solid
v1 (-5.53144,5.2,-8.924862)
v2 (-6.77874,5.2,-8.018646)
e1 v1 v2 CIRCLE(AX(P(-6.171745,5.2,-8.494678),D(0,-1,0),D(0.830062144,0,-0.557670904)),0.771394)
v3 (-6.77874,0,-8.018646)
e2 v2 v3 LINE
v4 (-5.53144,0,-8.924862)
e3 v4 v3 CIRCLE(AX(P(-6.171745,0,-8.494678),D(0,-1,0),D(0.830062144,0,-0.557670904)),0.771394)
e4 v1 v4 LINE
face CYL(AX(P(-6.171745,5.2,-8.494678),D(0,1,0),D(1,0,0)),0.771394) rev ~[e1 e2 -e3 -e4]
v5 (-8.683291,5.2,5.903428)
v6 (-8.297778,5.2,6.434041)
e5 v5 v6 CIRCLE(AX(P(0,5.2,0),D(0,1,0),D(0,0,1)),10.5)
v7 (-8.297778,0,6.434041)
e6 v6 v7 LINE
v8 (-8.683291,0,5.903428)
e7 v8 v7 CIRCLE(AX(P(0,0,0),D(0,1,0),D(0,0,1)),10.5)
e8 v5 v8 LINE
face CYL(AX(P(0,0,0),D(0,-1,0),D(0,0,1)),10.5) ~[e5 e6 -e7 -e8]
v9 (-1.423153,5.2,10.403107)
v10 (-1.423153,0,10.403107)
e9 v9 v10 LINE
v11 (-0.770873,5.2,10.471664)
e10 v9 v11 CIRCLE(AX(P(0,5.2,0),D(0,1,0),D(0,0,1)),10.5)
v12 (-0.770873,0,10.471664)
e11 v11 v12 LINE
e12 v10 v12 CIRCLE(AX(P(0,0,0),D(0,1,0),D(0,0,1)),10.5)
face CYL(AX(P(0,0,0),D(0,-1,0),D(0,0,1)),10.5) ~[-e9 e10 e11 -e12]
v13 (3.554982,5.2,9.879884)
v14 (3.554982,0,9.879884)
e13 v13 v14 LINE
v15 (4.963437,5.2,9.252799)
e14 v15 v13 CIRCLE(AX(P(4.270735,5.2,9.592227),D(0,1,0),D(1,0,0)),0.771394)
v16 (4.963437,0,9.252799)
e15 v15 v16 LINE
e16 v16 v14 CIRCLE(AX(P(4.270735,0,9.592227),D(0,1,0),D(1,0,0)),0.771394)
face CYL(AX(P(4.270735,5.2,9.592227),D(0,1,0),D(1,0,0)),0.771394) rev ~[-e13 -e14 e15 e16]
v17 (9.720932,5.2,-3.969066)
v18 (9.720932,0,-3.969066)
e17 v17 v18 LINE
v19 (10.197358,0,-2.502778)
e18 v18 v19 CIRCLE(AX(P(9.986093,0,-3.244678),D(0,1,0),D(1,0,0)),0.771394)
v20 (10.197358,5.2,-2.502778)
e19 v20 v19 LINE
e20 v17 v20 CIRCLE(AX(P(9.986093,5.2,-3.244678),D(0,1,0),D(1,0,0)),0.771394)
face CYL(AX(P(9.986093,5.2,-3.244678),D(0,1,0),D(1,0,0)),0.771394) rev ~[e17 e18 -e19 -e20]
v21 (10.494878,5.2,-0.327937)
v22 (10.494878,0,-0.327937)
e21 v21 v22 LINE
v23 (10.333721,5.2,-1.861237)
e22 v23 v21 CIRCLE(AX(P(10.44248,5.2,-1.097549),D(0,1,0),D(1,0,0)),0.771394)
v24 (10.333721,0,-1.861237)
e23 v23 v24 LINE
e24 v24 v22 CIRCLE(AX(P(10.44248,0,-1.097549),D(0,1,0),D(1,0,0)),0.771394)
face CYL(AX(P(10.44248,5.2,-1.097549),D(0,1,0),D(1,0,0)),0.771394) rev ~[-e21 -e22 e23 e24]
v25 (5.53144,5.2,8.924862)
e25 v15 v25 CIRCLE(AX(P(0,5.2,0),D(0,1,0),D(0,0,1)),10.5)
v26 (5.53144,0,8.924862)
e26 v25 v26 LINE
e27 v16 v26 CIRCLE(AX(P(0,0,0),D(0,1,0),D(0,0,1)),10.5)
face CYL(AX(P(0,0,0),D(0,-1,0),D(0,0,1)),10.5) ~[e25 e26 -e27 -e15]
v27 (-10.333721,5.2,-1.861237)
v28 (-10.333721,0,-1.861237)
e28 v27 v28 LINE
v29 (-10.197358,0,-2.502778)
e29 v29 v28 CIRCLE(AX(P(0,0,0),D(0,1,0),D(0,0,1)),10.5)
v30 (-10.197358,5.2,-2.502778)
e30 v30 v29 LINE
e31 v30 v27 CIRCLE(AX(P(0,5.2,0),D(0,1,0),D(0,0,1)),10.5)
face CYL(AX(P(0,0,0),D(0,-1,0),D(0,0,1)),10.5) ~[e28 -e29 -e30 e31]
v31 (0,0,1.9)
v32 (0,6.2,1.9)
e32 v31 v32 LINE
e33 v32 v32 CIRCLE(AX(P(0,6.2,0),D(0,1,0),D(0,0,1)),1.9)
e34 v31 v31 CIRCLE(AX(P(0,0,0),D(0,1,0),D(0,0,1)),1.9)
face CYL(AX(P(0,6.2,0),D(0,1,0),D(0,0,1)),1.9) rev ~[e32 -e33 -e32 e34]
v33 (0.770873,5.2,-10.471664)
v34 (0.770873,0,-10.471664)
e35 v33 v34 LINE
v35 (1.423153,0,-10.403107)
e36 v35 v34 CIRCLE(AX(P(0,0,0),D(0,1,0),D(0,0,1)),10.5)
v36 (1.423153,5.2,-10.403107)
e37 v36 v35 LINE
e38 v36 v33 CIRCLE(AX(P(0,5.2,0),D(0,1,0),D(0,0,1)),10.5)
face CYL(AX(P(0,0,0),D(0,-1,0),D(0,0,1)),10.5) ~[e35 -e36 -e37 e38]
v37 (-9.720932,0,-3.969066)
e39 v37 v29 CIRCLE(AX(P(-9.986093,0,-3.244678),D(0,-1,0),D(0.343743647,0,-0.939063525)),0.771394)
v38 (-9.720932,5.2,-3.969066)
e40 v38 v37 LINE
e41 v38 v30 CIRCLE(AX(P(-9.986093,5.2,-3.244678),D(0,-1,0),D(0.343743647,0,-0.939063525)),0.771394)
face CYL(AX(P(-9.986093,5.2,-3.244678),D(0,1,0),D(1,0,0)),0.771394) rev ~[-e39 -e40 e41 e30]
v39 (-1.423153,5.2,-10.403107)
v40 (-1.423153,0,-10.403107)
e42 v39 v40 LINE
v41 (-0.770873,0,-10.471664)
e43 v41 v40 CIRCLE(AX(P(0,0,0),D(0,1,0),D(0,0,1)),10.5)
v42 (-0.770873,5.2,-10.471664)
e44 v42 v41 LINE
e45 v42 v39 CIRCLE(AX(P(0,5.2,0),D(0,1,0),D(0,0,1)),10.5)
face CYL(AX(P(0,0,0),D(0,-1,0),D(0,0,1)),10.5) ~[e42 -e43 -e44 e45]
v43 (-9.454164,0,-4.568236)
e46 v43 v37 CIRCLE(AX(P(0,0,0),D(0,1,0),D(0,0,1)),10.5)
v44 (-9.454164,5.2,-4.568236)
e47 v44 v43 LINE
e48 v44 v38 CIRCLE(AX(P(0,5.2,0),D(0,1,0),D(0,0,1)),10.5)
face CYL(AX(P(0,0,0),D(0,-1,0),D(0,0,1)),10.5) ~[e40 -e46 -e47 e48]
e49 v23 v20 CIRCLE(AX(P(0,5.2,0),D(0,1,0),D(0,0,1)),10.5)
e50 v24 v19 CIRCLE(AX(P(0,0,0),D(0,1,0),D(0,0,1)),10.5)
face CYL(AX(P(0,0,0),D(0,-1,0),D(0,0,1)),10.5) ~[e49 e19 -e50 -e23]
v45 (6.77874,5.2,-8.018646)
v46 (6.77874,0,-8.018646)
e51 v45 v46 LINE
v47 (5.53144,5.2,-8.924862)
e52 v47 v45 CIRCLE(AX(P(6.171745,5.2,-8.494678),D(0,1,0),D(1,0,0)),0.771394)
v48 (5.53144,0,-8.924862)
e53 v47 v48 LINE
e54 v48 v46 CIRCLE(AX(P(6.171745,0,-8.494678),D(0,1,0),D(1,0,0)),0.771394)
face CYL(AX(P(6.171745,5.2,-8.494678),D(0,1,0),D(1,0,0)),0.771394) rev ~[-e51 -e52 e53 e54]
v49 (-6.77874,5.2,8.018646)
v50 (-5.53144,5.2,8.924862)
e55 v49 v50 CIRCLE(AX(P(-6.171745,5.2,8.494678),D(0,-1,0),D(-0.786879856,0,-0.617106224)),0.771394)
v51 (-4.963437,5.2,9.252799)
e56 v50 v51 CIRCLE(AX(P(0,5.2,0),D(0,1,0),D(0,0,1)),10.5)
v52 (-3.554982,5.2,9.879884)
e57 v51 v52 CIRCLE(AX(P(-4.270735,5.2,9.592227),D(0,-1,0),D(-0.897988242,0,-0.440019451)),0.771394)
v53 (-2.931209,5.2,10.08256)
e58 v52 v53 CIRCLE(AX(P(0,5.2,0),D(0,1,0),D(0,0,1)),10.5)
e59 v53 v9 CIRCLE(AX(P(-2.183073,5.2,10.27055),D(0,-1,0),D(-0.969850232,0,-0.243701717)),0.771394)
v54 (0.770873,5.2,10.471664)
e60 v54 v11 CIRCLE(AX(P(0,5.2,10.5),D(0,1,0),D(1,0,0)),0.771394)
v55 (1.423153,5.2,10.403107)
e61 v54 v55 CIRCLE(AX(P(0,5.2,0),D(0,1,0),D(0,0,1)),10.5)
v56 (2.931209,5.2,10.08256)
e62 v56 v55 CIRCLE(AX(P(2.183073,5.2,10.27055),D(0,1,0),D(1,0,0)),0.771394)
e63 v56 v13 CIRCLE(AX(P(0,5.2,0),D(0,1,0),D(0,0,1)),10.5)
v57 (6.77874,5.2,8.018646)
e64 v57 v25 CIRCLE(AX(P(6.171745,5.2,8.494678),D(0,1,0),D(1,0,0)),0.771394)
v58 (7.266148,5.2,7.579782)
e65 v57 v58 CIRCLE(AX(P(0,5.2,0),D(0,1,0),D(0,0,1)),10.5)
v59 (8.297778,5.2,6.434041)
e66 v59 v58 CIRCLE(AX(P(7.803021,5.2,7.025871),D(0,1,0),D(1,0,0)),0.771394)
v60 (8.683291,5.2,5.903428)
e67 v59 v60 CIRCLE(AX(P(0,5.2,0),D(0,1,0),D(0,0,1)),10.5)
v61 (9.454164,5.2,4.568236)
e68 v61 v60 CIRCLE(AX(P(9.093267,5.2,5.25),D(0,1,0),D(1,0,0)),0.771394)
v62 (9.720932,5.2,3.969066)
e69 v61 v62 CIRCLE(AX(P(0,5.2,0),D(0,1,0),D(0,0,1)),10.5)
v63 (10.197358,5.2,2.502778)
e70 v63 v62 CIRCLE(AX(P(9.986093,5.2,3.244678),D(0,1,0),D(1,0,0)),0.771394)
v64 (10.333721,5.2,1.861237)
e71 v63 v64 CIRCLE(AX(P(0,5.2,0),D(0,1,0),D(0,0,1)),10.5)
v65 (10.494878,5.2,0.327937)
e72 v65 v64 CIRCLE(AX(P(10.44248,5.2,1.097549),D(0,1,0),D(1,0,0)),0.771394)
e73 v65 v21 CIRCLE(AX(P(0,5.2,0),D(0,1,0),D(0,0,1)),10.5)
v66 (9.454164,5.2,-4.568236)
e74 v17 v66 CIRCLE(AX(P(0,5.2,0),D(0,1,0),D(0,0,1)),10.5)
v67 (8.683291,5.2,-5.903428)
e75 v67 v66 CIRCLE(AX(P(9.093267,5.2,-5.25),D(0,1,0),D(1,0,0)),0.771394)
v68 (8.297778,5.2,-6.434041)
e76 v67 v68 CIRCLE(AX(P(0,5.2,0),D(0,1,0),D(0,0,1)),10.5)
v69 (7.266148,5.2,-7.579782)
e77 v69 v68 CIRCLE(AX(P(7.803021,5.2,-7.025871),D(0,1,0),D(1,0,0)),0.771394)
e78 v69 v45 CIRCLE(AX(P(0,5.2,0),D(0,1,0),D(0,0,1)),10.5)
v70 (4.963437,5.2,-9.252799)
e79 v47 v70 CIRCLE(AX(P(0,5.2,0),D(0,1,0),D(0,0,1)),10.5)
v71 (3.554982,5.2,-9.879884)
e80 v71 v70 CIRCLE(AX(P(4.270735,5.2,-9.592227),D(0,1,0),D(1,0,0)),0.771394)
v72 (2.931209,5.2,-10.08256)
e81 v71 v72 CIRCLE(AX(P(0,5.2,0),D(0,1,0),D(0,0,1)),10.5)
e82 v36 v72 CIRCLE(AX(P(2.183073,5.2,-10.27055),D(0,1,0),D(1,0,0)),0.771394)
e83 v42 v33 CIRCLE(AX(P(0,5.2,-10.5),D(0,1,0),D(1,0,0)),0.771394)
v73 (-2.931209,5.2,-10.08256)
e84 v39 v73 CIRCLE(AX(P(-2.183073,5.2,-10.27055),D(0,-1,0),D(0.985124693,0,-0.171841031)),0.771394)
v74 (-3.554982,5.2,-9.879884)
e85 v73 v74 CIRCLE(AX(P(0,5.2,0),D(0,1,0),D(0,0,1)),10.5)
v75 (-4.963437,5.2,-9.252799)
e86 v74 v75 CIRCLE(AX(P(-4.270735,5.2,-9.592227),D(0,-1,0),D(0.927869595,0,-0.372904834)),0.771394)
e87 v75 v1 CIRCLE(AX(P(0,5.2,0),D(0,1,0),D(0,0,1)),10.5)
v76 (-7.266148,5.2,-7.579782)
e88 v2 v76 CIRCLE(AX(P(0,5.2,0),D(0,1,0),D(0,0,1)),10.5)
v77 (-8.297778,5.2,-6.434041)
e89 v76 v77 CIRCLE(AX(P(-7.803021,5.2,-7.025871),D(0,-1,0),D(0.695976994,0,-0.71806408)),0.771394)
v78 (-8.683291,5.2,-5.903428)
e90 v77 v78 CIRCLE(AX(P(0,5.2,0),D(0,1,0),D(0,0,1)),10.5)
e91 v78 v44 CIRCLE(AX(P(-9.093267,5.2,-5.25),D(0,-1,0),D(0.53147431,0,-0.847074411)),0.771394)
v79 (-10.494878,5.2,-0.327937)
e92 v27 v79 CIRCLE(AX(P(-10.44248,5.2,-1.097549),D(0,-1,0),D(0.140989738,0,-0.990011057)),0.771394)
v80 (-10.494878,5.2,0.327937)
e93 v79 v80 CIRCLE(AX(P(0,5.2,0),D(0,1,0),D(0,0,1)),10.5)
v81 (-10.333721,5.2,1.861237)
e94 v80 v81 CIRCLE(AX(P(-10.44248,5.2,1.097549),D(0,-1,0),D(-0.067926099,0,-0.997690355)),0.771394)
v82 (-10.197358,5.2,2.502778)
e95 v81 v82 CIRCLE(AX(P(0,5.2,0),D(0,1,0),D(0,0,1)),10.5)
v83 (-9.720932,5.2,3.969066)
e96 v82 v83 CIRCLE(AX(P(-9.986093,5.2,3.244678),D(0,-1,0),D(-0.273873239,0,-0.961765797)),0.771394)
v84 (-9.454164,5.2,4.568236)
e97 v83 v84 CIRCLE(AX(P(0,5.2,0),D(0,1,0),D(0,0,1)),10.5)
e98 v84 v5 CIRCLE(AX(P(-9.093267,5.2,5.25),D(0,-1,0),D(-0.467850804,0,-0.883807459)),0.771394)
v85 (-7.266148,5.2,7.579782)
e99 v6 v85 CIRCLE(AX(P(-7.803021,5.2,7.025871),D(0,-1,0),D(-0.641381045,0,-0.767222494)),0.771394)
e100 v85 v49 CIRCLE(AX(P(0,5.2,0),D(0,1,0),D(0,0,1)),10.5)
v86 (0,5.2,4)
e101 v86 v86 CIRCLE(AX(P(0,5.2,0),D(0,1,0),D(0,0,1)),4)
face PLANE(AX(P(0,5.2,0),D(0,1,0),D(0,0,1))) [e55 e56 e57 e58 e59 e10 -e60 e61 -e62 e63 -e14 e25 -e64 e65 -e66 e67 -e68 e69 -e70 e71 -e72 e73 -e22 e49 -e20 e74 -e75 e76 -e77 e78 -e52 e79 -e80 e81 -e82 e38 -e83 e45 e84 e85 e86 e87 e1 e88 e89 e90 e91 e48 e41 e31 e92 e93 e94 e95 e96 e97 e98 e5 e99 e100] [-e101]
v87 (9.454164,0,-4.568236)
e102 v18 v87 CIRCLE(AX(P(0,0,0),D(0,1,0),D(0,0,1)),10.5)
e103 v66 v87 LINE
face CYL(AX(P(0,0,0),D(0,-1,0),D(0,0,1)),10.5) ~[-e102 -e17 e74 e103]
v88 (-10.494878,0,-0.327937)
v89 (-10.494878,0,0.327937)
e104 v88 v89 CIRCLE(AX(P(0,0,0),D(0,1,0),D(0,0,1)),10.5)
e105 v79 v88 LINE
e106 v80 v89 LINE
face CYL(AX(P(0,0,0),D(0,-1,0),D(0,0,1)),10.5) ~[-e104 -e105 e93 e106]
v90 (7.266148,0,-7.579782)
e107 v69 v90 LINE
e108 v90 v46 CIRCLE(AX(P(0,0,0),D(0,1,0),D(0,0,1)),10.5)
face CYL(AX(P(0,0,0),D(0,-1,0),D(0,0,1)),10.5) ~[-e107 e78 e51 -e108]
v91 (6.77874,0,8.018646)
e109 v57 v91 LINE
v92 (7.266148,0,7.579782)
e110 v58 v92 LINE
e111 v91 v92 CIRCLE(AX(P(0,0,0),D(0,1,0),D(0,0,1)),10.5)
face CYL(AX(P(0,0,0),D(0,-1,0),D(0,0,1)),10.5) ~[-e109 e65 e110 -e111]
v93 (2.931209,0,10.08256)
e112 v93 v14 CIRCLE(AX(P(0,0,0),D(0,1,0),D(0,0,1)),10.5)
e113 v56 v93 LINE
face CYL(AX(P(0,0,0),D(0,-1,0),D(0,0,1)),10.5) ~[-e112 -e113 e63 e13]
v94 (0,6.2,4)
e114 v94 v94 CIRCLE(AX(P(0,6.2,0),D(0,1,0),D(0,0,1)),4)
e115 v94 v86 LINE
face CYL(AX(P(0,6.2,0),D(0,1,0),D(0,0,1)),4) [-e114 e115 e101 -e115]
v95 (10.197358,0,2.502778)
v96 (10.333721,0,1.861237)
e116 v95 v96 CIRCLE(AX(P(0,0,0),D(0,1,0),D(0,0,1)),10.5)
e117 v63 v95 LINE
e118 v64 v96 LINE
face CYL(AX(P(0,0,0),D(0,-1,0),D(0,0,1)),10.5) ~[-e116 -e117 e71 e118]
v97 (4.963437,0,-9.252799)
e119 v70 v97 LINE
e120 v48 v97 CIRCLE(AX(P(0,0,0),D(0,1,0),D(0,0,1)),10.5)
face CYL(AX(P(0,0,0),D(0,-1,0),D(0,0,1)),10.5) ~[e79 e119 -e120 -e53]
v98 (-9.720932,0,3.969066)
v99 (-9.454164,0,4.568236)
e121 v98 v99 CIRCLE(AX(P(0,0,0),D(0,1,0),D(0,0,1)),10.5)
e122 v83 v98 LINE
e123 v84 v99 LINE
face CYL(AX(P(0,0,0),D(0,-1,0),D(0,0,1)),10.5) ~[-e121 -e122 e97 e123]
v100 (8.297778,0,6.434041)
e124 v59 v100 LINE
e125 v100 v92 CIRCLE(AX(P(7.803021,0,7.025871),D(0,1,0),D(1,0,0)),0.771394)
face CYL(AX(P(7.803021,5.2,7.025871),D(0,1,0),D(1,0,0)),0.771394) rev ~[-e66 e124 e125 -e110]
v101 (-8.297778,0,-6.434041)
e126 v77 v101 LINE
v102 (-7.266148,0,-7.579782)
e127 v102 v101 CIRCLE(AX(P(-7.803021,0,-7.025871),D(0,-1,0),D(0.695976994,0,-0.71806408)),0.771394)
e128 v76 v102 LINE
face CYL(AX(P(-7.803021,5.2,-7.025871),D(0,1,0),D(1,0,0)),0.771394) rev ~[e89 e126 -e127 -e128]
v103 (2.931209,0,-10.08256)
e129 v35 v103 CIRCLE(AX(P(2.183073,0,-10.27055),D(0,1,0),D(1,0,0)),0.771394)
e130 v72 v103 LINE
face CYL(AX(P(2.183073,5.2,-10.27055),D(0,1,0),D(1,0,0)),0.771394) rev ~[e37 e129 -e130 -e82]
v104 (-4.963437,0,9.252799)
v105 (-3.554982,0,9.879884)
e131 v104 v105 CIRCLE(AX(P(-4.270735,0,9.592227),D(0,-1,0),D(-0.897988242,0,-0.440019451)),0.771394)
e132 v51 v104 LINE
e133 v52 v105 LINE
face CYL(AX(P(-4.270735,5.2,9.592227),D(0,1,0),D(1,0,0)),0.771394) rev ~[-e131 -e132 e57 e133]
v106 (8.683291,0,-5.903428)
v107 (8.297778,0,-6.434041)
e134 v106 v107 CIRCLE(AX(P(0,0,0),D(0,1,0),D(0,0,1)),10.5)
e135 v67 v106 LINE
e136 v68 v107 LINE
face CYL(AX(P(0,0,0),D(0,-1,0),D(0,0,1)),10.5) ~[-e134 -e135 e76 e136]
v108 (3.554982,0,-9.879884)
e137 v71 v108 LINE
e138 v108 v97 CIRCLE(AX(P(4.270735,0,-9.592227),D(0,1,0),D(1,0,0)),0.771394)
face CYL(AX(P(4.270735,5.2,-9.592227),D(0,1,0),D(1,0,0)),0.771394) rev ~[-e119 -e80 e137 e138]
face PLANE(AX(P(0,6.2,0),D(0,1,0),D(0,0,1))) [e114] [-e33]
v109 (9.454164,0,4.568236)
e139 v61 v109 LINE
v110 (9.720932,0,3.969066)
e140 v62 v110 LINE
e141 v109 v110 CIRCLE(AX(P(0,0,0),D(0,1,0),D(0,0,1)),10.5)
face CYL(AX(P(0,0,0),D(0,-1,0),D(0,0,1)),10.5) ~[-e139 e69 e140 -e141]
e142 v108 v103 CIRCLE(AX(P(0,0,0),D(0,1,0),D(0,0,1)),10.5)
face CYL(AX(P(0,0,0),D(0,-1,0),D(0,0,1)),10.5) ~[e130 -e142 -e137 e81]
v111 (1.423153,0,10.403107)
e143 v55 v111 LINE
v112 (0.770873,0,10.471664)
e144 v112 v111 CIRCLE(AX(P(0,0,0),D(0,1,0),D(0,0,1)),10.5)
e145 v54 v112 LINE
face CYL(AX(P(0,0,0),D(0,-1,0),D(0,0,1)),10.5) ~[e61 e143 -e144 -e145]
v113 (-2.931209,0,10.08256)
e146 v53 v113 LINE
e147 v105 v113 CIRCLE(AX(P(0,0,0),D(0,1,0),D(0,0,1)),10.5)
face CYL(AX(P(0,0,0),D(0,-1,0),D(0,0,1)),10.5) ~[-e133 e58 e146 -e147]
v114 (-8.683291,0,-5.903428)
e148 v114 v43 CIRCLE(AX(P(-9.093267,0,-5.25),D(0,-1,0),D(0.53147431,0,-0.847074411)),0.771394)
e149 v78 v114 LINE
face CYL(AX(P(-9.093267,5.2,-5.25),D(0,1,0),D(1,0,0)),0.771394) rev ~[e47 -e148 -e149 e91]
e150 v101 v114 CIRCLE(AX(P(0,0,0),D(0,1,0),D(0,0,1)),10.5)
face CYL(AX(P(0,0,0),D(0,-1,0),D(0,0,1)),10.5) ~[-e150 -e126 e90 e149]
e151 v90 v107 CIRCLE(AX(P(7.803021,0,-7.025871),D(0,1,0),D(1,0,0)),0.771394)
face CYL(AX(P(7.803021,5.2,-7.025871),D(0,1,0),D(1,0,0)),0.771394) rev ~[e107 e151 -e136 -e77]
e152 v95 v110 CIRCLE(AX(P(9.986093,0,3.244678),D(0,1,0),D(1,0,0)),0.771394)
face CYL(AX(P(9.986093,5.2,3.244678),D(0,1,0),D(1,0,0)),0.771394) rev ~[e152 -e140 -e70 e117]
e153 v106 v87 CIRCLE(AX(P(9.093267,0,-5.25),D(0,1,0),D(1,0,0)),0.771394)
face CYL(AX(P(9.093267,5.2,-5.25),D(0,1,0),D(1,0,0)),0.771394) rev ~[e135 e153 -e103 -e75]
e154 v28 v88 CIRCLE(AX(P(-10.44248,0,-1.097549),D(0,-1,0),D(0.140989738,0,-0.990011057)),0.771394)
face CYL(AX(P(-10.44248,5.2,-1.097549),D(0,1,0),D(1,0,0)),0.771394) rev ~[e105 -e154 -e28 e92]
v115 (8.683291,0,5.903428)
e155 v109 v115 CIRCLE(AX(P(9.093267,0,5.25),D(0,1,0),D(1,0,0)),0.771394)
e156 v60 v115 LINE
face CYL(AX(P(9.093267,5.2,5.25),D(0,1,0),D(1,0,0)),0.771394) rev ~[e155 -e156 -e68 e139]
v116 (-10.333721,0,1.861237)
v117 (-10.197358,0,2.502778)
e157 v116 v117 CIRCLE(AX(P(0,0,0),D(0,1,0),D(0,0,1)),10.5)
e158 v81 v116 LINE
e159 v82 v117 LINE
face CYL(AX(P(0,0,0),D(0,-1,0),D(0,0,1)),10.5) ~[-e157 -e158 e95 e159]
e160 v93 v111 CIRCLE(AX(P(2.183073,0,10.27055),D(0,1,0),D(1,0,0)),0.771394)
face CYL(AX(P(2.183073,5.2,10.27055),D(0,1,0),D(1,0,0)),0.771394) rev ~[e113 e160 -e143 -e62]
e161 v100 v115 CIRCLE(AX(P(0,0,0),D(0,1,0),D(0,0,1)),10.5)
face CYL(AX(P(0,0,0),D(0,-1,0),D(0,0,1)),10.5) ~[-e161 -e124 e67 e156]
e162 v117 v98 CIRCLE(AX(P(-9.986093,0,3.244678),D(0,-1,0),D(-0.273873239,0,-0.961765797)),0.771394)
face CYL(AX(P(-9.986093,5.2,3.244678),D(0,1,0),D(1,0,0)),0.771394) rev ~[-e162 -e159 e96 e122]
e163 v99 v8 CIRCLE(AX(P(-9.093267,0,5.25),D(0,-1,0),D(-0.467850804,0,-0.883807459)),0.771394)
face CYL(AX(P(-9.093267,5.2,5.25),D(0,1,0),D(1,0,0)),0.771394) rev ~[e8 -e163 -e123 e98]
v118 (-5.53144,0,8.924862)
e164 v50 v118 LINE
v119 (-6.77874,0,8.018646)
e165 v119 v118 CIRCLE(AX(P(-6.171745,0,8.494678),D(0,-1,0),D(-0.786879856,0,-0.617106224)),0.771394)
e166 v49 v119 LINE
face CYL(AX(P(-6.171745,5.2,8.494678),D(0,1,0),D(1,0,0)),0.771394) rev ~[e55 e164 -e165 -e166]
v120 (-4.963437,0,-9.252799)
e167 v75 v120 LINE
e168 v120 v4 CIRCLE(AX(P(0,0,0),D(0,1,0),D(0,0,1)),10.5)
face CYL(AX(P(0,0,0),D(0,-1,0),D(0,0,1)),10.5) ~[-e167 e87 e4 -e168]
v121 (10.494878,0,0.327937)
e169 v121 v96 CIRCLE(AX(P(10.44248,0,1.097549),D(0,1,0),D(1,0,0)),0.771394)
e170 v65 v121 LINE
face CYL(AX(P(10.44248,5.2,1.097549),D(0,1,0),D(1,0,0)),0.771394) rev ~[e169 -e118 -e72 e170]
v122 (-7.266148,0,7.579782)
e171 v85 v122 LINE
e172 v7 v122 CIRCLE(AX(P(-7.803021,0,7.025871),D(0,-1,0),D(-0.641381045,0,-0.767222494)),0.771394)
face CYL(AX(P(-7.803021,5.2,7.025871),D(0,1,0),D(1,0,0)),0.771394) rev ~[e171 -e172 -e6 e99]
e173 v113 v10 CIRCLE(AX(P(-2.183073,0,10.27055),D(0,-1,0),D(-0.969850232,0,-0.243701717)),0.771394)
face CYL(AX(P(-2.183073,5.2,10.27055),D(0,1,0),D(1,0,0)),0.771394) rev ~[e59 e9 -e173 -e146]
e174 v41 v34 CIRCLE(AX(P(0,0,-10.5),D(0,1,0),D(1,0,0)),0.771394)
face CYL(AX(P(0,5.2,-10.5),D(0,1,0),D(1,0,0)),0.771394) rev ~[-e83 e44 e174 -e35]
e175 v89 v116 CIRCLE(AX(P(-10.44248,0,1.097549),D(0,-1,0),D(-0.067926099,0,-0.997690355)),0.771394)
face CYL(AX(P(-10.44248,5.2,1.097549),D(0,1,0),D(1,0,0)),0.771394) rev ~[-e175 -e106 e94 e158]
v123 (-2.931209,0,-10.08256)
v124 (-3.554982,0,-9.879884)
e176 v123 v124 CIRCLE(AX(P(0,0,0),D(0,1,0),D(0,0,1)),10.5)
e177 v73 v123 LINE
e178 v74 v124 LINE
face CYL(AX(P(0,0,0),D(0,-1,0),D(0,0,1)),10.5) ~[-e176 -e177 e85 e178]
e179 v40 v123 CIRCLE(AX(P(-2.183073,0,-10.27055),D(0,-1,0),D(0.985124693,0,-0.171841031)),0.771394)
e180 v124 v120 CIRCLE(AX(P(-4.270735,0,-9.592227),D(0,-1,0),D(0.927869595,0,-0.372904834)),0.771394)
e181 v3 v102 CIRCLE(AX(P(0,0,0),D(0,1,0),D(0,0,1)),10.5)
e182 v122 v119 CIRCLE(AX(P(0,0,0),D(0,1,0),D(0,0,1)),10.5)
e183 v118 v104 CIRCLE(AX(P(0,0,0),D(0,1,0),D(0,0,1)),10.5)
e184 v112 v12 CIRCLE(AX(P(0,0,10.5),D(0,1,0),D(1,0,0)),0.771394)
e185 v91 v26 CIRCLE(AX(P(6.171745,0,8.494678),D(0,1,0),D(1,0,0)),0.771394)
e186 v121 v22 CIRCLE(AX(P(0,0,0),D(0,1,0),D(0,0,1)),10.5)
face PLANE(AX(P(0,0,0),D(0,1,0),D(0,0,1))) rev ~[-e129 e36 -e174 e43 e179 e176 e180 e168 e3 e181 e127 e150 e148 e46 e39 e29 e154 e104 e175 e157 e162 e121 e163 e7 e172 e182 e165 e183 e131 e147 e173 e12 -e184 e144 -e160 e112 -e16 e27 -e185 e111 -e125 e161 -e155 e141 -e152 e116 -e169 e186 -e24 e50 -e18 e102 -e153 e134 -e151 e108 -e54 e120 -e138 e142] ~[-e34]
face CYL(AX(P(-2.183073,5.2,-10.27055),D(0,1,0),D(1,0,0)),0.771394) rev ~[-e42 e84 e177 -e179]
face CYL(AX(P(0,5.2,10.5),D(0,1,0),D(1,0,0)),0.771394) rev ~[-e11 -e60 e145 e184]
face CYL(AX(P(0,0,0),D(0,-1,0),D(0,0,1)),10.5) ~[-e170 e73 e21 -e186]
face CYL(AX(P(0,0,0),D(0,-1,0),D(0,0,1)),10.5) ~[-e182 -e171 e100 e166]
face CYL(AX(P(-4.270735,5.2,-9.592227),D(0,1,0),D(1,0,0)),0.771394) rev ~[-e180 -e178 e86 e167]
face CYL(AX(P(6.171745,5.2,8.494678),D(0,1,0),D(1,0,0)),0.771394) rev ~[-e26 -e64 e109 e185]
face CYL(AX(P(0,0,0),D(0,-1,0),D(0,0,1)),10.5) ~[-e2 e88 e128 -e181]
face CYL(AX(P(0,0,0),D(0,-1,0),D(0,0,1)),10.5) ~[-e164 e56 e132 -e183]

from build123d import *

# Parameters (mm, degrees)
SKETCH_1_R          = 10.5
EXTRUDE_1_DEPTH     = 5.2
SKETCH_2_R          = 1.9
CUT_EXTRUDE_1_DEPTH = 16.733403955
EXTRUDE_START       = 1
SKETCH_3_R          = 4
SKETCH_3_R_2        = 1.9
EXTRUDE_2_DEPTH     = 1
SKETCH_4_R          = 0.771394001
CUT_EXTRUDE_3_DEPTH = 16.733403955


with BuildPart() as part:
    # Эскиз1 → Бобышка-Вытянуть1 (new body)
    with BuildSketch(Plane(origin=(0, 0, 0), x_dir=(1, 0, 0), z_dir=(0, 1, 0))):
        with Locations(Location((0, 0, 0), (0, 0, 270))):
            Circle(SKETCH_1_R)
    extrude(amount=EXTRUDE_1_DEPTH)

    # Эскиз2 → Вырез-Вытянуть1 (cut, through all)
    with BuildSketch(Plane(origin=(0, 5.2, 0), x_dir=(1, 0, 0), z_dir=(0, 1, 0))):
        with Locations(Location((0, 0, 0), (0, 0, 270))):
            Circle(SKETCH_2_R)
    extrude(amount=-CUT_EXTRUDE_1_DEPTH, mode=Mode.SUBTRACT)

    # Эскиз3 → Бобышка-Вытянуть2 (add)
    with BuildSketch(Plane(origin=(0, 5.2, 0), x_dir=(1, 0, 0), z_dir=(0, 1, 0)).offset(EXTRUDE_START)):
        with Locations(Location((0, 0, 0), (0, 0, 270))):
            Circle(SKETCH_3_R)
        with Locations(Location((0, 0, 0), (0, 0, 270))):
            Circle(SKETCH_3_R_2, mode=Mode.SUBTRACT)
    extrude(amount=-EXTRUDE_2_DEPTH)

    # Эскиз4 → Вырез-Вытянуть3 (cut, through all)
    with BuildSketch(Plane(origin=(0, 5.2, 0), x_dir=(1, 0, 0), z_dir=(0, 1, 0))):
        with Locations((0, 10.5)):
            Circle(SKETCH_4_R)
        with Locations((2.183072754, 10.270549808)):
            Circle(SKETCH_4_R)
        with Locations((4.270734752, 9.592227305)):
            Circle(SKETCH_4_R)
        with Locations((6.171745149, 8.494678441)):
            Circle(SKETCH_4_R)
        with Locations((7.803020668, 7.025871367)):
            Circle(SKETCH_4_R)
        with Locations((9.09326674, 5.25)):
            Circle(SKETCH_4_R)
        with Locations((9.986093421, 3.244678441)):
            Circle(SKETCH_4_R)
        with Locations((10.442479901, 1.097548864)):
            Circle(SKETCH_4_R)
        with Locations((10.442479901, -1.097548864)):
            Circle(SKETCH_4_R)
        with Locations((9.986093421, -3.244678441)):
            Circle(SKETCH_4_R)
        with Locations((9.09326674, -5.25)):
            Circle(SKETCH_4_R)
        with Locations((7.803020668, -7.025871367)):
            Circle(SKETCH_4_R)
        with Locations((6.171745149, -8.494678441)):
            Circle(SKETCH_4_R)
        with Locations((4.270734752, -9.592227305)):
            Circle(SKETCH_4_R)
        with Locations((2.183072754, -10.270549808)):
            Circle(SKETCH_4_R)
        with Locations((0, -10.5)):
            Circle(SKETCH_4_R)
        with Locations((-2.183072754, -10.270549808)):
            Circle(SKETCH_4_R)
        with Locations((-4.270734752, -9.592227305)):
            Circle(SKETCH_4_R)
        with Locations((-6.171745149, -8.494678441)):
            Circle(SKETCH_4_R)
        with Locations((-7.803020668, -7.025871367)):
            Circle(SKETCH_4_R)
        with Locations((-9.09326674, -5.25)):
            Circle(SKETCH_4_R)
        with Locations((-9.986093421, -3.244678441)):
            Circle(SKETCH_4_R)
        with Locations((-10.442479901, -1.097548864)):
            Circle(SKETCH_4_R)
        with Locations((-10.442479901, 1.097548864)):
            Circle(SKETCH_4_R)
        with Locations((-9.986093421, 3.244678441)):
            Circle(SKETCH_4_R)
        with Locations((-9.09326674, 5.25)):
            Circle(SKETCH_4_R)
        with Locations((-7.803020668, 7.025871367)):
            Circle(SKETCH_4_R)
        with Locations((-6.171745149, 8.494678441)):
            Circle(SKETCH_4_R)
        with Locations((-4.270734752, 9.592227305)):
            Circle(SKETCH_4_R)
        with Locations((-2.183072754, 10.270549808)):
            Circle(SKETCH_4_R)
    extrude(amount=-CUT_EXTRUDE_3_DEPTH, mode=Mode.SUBTRACT)


solid = part.part
